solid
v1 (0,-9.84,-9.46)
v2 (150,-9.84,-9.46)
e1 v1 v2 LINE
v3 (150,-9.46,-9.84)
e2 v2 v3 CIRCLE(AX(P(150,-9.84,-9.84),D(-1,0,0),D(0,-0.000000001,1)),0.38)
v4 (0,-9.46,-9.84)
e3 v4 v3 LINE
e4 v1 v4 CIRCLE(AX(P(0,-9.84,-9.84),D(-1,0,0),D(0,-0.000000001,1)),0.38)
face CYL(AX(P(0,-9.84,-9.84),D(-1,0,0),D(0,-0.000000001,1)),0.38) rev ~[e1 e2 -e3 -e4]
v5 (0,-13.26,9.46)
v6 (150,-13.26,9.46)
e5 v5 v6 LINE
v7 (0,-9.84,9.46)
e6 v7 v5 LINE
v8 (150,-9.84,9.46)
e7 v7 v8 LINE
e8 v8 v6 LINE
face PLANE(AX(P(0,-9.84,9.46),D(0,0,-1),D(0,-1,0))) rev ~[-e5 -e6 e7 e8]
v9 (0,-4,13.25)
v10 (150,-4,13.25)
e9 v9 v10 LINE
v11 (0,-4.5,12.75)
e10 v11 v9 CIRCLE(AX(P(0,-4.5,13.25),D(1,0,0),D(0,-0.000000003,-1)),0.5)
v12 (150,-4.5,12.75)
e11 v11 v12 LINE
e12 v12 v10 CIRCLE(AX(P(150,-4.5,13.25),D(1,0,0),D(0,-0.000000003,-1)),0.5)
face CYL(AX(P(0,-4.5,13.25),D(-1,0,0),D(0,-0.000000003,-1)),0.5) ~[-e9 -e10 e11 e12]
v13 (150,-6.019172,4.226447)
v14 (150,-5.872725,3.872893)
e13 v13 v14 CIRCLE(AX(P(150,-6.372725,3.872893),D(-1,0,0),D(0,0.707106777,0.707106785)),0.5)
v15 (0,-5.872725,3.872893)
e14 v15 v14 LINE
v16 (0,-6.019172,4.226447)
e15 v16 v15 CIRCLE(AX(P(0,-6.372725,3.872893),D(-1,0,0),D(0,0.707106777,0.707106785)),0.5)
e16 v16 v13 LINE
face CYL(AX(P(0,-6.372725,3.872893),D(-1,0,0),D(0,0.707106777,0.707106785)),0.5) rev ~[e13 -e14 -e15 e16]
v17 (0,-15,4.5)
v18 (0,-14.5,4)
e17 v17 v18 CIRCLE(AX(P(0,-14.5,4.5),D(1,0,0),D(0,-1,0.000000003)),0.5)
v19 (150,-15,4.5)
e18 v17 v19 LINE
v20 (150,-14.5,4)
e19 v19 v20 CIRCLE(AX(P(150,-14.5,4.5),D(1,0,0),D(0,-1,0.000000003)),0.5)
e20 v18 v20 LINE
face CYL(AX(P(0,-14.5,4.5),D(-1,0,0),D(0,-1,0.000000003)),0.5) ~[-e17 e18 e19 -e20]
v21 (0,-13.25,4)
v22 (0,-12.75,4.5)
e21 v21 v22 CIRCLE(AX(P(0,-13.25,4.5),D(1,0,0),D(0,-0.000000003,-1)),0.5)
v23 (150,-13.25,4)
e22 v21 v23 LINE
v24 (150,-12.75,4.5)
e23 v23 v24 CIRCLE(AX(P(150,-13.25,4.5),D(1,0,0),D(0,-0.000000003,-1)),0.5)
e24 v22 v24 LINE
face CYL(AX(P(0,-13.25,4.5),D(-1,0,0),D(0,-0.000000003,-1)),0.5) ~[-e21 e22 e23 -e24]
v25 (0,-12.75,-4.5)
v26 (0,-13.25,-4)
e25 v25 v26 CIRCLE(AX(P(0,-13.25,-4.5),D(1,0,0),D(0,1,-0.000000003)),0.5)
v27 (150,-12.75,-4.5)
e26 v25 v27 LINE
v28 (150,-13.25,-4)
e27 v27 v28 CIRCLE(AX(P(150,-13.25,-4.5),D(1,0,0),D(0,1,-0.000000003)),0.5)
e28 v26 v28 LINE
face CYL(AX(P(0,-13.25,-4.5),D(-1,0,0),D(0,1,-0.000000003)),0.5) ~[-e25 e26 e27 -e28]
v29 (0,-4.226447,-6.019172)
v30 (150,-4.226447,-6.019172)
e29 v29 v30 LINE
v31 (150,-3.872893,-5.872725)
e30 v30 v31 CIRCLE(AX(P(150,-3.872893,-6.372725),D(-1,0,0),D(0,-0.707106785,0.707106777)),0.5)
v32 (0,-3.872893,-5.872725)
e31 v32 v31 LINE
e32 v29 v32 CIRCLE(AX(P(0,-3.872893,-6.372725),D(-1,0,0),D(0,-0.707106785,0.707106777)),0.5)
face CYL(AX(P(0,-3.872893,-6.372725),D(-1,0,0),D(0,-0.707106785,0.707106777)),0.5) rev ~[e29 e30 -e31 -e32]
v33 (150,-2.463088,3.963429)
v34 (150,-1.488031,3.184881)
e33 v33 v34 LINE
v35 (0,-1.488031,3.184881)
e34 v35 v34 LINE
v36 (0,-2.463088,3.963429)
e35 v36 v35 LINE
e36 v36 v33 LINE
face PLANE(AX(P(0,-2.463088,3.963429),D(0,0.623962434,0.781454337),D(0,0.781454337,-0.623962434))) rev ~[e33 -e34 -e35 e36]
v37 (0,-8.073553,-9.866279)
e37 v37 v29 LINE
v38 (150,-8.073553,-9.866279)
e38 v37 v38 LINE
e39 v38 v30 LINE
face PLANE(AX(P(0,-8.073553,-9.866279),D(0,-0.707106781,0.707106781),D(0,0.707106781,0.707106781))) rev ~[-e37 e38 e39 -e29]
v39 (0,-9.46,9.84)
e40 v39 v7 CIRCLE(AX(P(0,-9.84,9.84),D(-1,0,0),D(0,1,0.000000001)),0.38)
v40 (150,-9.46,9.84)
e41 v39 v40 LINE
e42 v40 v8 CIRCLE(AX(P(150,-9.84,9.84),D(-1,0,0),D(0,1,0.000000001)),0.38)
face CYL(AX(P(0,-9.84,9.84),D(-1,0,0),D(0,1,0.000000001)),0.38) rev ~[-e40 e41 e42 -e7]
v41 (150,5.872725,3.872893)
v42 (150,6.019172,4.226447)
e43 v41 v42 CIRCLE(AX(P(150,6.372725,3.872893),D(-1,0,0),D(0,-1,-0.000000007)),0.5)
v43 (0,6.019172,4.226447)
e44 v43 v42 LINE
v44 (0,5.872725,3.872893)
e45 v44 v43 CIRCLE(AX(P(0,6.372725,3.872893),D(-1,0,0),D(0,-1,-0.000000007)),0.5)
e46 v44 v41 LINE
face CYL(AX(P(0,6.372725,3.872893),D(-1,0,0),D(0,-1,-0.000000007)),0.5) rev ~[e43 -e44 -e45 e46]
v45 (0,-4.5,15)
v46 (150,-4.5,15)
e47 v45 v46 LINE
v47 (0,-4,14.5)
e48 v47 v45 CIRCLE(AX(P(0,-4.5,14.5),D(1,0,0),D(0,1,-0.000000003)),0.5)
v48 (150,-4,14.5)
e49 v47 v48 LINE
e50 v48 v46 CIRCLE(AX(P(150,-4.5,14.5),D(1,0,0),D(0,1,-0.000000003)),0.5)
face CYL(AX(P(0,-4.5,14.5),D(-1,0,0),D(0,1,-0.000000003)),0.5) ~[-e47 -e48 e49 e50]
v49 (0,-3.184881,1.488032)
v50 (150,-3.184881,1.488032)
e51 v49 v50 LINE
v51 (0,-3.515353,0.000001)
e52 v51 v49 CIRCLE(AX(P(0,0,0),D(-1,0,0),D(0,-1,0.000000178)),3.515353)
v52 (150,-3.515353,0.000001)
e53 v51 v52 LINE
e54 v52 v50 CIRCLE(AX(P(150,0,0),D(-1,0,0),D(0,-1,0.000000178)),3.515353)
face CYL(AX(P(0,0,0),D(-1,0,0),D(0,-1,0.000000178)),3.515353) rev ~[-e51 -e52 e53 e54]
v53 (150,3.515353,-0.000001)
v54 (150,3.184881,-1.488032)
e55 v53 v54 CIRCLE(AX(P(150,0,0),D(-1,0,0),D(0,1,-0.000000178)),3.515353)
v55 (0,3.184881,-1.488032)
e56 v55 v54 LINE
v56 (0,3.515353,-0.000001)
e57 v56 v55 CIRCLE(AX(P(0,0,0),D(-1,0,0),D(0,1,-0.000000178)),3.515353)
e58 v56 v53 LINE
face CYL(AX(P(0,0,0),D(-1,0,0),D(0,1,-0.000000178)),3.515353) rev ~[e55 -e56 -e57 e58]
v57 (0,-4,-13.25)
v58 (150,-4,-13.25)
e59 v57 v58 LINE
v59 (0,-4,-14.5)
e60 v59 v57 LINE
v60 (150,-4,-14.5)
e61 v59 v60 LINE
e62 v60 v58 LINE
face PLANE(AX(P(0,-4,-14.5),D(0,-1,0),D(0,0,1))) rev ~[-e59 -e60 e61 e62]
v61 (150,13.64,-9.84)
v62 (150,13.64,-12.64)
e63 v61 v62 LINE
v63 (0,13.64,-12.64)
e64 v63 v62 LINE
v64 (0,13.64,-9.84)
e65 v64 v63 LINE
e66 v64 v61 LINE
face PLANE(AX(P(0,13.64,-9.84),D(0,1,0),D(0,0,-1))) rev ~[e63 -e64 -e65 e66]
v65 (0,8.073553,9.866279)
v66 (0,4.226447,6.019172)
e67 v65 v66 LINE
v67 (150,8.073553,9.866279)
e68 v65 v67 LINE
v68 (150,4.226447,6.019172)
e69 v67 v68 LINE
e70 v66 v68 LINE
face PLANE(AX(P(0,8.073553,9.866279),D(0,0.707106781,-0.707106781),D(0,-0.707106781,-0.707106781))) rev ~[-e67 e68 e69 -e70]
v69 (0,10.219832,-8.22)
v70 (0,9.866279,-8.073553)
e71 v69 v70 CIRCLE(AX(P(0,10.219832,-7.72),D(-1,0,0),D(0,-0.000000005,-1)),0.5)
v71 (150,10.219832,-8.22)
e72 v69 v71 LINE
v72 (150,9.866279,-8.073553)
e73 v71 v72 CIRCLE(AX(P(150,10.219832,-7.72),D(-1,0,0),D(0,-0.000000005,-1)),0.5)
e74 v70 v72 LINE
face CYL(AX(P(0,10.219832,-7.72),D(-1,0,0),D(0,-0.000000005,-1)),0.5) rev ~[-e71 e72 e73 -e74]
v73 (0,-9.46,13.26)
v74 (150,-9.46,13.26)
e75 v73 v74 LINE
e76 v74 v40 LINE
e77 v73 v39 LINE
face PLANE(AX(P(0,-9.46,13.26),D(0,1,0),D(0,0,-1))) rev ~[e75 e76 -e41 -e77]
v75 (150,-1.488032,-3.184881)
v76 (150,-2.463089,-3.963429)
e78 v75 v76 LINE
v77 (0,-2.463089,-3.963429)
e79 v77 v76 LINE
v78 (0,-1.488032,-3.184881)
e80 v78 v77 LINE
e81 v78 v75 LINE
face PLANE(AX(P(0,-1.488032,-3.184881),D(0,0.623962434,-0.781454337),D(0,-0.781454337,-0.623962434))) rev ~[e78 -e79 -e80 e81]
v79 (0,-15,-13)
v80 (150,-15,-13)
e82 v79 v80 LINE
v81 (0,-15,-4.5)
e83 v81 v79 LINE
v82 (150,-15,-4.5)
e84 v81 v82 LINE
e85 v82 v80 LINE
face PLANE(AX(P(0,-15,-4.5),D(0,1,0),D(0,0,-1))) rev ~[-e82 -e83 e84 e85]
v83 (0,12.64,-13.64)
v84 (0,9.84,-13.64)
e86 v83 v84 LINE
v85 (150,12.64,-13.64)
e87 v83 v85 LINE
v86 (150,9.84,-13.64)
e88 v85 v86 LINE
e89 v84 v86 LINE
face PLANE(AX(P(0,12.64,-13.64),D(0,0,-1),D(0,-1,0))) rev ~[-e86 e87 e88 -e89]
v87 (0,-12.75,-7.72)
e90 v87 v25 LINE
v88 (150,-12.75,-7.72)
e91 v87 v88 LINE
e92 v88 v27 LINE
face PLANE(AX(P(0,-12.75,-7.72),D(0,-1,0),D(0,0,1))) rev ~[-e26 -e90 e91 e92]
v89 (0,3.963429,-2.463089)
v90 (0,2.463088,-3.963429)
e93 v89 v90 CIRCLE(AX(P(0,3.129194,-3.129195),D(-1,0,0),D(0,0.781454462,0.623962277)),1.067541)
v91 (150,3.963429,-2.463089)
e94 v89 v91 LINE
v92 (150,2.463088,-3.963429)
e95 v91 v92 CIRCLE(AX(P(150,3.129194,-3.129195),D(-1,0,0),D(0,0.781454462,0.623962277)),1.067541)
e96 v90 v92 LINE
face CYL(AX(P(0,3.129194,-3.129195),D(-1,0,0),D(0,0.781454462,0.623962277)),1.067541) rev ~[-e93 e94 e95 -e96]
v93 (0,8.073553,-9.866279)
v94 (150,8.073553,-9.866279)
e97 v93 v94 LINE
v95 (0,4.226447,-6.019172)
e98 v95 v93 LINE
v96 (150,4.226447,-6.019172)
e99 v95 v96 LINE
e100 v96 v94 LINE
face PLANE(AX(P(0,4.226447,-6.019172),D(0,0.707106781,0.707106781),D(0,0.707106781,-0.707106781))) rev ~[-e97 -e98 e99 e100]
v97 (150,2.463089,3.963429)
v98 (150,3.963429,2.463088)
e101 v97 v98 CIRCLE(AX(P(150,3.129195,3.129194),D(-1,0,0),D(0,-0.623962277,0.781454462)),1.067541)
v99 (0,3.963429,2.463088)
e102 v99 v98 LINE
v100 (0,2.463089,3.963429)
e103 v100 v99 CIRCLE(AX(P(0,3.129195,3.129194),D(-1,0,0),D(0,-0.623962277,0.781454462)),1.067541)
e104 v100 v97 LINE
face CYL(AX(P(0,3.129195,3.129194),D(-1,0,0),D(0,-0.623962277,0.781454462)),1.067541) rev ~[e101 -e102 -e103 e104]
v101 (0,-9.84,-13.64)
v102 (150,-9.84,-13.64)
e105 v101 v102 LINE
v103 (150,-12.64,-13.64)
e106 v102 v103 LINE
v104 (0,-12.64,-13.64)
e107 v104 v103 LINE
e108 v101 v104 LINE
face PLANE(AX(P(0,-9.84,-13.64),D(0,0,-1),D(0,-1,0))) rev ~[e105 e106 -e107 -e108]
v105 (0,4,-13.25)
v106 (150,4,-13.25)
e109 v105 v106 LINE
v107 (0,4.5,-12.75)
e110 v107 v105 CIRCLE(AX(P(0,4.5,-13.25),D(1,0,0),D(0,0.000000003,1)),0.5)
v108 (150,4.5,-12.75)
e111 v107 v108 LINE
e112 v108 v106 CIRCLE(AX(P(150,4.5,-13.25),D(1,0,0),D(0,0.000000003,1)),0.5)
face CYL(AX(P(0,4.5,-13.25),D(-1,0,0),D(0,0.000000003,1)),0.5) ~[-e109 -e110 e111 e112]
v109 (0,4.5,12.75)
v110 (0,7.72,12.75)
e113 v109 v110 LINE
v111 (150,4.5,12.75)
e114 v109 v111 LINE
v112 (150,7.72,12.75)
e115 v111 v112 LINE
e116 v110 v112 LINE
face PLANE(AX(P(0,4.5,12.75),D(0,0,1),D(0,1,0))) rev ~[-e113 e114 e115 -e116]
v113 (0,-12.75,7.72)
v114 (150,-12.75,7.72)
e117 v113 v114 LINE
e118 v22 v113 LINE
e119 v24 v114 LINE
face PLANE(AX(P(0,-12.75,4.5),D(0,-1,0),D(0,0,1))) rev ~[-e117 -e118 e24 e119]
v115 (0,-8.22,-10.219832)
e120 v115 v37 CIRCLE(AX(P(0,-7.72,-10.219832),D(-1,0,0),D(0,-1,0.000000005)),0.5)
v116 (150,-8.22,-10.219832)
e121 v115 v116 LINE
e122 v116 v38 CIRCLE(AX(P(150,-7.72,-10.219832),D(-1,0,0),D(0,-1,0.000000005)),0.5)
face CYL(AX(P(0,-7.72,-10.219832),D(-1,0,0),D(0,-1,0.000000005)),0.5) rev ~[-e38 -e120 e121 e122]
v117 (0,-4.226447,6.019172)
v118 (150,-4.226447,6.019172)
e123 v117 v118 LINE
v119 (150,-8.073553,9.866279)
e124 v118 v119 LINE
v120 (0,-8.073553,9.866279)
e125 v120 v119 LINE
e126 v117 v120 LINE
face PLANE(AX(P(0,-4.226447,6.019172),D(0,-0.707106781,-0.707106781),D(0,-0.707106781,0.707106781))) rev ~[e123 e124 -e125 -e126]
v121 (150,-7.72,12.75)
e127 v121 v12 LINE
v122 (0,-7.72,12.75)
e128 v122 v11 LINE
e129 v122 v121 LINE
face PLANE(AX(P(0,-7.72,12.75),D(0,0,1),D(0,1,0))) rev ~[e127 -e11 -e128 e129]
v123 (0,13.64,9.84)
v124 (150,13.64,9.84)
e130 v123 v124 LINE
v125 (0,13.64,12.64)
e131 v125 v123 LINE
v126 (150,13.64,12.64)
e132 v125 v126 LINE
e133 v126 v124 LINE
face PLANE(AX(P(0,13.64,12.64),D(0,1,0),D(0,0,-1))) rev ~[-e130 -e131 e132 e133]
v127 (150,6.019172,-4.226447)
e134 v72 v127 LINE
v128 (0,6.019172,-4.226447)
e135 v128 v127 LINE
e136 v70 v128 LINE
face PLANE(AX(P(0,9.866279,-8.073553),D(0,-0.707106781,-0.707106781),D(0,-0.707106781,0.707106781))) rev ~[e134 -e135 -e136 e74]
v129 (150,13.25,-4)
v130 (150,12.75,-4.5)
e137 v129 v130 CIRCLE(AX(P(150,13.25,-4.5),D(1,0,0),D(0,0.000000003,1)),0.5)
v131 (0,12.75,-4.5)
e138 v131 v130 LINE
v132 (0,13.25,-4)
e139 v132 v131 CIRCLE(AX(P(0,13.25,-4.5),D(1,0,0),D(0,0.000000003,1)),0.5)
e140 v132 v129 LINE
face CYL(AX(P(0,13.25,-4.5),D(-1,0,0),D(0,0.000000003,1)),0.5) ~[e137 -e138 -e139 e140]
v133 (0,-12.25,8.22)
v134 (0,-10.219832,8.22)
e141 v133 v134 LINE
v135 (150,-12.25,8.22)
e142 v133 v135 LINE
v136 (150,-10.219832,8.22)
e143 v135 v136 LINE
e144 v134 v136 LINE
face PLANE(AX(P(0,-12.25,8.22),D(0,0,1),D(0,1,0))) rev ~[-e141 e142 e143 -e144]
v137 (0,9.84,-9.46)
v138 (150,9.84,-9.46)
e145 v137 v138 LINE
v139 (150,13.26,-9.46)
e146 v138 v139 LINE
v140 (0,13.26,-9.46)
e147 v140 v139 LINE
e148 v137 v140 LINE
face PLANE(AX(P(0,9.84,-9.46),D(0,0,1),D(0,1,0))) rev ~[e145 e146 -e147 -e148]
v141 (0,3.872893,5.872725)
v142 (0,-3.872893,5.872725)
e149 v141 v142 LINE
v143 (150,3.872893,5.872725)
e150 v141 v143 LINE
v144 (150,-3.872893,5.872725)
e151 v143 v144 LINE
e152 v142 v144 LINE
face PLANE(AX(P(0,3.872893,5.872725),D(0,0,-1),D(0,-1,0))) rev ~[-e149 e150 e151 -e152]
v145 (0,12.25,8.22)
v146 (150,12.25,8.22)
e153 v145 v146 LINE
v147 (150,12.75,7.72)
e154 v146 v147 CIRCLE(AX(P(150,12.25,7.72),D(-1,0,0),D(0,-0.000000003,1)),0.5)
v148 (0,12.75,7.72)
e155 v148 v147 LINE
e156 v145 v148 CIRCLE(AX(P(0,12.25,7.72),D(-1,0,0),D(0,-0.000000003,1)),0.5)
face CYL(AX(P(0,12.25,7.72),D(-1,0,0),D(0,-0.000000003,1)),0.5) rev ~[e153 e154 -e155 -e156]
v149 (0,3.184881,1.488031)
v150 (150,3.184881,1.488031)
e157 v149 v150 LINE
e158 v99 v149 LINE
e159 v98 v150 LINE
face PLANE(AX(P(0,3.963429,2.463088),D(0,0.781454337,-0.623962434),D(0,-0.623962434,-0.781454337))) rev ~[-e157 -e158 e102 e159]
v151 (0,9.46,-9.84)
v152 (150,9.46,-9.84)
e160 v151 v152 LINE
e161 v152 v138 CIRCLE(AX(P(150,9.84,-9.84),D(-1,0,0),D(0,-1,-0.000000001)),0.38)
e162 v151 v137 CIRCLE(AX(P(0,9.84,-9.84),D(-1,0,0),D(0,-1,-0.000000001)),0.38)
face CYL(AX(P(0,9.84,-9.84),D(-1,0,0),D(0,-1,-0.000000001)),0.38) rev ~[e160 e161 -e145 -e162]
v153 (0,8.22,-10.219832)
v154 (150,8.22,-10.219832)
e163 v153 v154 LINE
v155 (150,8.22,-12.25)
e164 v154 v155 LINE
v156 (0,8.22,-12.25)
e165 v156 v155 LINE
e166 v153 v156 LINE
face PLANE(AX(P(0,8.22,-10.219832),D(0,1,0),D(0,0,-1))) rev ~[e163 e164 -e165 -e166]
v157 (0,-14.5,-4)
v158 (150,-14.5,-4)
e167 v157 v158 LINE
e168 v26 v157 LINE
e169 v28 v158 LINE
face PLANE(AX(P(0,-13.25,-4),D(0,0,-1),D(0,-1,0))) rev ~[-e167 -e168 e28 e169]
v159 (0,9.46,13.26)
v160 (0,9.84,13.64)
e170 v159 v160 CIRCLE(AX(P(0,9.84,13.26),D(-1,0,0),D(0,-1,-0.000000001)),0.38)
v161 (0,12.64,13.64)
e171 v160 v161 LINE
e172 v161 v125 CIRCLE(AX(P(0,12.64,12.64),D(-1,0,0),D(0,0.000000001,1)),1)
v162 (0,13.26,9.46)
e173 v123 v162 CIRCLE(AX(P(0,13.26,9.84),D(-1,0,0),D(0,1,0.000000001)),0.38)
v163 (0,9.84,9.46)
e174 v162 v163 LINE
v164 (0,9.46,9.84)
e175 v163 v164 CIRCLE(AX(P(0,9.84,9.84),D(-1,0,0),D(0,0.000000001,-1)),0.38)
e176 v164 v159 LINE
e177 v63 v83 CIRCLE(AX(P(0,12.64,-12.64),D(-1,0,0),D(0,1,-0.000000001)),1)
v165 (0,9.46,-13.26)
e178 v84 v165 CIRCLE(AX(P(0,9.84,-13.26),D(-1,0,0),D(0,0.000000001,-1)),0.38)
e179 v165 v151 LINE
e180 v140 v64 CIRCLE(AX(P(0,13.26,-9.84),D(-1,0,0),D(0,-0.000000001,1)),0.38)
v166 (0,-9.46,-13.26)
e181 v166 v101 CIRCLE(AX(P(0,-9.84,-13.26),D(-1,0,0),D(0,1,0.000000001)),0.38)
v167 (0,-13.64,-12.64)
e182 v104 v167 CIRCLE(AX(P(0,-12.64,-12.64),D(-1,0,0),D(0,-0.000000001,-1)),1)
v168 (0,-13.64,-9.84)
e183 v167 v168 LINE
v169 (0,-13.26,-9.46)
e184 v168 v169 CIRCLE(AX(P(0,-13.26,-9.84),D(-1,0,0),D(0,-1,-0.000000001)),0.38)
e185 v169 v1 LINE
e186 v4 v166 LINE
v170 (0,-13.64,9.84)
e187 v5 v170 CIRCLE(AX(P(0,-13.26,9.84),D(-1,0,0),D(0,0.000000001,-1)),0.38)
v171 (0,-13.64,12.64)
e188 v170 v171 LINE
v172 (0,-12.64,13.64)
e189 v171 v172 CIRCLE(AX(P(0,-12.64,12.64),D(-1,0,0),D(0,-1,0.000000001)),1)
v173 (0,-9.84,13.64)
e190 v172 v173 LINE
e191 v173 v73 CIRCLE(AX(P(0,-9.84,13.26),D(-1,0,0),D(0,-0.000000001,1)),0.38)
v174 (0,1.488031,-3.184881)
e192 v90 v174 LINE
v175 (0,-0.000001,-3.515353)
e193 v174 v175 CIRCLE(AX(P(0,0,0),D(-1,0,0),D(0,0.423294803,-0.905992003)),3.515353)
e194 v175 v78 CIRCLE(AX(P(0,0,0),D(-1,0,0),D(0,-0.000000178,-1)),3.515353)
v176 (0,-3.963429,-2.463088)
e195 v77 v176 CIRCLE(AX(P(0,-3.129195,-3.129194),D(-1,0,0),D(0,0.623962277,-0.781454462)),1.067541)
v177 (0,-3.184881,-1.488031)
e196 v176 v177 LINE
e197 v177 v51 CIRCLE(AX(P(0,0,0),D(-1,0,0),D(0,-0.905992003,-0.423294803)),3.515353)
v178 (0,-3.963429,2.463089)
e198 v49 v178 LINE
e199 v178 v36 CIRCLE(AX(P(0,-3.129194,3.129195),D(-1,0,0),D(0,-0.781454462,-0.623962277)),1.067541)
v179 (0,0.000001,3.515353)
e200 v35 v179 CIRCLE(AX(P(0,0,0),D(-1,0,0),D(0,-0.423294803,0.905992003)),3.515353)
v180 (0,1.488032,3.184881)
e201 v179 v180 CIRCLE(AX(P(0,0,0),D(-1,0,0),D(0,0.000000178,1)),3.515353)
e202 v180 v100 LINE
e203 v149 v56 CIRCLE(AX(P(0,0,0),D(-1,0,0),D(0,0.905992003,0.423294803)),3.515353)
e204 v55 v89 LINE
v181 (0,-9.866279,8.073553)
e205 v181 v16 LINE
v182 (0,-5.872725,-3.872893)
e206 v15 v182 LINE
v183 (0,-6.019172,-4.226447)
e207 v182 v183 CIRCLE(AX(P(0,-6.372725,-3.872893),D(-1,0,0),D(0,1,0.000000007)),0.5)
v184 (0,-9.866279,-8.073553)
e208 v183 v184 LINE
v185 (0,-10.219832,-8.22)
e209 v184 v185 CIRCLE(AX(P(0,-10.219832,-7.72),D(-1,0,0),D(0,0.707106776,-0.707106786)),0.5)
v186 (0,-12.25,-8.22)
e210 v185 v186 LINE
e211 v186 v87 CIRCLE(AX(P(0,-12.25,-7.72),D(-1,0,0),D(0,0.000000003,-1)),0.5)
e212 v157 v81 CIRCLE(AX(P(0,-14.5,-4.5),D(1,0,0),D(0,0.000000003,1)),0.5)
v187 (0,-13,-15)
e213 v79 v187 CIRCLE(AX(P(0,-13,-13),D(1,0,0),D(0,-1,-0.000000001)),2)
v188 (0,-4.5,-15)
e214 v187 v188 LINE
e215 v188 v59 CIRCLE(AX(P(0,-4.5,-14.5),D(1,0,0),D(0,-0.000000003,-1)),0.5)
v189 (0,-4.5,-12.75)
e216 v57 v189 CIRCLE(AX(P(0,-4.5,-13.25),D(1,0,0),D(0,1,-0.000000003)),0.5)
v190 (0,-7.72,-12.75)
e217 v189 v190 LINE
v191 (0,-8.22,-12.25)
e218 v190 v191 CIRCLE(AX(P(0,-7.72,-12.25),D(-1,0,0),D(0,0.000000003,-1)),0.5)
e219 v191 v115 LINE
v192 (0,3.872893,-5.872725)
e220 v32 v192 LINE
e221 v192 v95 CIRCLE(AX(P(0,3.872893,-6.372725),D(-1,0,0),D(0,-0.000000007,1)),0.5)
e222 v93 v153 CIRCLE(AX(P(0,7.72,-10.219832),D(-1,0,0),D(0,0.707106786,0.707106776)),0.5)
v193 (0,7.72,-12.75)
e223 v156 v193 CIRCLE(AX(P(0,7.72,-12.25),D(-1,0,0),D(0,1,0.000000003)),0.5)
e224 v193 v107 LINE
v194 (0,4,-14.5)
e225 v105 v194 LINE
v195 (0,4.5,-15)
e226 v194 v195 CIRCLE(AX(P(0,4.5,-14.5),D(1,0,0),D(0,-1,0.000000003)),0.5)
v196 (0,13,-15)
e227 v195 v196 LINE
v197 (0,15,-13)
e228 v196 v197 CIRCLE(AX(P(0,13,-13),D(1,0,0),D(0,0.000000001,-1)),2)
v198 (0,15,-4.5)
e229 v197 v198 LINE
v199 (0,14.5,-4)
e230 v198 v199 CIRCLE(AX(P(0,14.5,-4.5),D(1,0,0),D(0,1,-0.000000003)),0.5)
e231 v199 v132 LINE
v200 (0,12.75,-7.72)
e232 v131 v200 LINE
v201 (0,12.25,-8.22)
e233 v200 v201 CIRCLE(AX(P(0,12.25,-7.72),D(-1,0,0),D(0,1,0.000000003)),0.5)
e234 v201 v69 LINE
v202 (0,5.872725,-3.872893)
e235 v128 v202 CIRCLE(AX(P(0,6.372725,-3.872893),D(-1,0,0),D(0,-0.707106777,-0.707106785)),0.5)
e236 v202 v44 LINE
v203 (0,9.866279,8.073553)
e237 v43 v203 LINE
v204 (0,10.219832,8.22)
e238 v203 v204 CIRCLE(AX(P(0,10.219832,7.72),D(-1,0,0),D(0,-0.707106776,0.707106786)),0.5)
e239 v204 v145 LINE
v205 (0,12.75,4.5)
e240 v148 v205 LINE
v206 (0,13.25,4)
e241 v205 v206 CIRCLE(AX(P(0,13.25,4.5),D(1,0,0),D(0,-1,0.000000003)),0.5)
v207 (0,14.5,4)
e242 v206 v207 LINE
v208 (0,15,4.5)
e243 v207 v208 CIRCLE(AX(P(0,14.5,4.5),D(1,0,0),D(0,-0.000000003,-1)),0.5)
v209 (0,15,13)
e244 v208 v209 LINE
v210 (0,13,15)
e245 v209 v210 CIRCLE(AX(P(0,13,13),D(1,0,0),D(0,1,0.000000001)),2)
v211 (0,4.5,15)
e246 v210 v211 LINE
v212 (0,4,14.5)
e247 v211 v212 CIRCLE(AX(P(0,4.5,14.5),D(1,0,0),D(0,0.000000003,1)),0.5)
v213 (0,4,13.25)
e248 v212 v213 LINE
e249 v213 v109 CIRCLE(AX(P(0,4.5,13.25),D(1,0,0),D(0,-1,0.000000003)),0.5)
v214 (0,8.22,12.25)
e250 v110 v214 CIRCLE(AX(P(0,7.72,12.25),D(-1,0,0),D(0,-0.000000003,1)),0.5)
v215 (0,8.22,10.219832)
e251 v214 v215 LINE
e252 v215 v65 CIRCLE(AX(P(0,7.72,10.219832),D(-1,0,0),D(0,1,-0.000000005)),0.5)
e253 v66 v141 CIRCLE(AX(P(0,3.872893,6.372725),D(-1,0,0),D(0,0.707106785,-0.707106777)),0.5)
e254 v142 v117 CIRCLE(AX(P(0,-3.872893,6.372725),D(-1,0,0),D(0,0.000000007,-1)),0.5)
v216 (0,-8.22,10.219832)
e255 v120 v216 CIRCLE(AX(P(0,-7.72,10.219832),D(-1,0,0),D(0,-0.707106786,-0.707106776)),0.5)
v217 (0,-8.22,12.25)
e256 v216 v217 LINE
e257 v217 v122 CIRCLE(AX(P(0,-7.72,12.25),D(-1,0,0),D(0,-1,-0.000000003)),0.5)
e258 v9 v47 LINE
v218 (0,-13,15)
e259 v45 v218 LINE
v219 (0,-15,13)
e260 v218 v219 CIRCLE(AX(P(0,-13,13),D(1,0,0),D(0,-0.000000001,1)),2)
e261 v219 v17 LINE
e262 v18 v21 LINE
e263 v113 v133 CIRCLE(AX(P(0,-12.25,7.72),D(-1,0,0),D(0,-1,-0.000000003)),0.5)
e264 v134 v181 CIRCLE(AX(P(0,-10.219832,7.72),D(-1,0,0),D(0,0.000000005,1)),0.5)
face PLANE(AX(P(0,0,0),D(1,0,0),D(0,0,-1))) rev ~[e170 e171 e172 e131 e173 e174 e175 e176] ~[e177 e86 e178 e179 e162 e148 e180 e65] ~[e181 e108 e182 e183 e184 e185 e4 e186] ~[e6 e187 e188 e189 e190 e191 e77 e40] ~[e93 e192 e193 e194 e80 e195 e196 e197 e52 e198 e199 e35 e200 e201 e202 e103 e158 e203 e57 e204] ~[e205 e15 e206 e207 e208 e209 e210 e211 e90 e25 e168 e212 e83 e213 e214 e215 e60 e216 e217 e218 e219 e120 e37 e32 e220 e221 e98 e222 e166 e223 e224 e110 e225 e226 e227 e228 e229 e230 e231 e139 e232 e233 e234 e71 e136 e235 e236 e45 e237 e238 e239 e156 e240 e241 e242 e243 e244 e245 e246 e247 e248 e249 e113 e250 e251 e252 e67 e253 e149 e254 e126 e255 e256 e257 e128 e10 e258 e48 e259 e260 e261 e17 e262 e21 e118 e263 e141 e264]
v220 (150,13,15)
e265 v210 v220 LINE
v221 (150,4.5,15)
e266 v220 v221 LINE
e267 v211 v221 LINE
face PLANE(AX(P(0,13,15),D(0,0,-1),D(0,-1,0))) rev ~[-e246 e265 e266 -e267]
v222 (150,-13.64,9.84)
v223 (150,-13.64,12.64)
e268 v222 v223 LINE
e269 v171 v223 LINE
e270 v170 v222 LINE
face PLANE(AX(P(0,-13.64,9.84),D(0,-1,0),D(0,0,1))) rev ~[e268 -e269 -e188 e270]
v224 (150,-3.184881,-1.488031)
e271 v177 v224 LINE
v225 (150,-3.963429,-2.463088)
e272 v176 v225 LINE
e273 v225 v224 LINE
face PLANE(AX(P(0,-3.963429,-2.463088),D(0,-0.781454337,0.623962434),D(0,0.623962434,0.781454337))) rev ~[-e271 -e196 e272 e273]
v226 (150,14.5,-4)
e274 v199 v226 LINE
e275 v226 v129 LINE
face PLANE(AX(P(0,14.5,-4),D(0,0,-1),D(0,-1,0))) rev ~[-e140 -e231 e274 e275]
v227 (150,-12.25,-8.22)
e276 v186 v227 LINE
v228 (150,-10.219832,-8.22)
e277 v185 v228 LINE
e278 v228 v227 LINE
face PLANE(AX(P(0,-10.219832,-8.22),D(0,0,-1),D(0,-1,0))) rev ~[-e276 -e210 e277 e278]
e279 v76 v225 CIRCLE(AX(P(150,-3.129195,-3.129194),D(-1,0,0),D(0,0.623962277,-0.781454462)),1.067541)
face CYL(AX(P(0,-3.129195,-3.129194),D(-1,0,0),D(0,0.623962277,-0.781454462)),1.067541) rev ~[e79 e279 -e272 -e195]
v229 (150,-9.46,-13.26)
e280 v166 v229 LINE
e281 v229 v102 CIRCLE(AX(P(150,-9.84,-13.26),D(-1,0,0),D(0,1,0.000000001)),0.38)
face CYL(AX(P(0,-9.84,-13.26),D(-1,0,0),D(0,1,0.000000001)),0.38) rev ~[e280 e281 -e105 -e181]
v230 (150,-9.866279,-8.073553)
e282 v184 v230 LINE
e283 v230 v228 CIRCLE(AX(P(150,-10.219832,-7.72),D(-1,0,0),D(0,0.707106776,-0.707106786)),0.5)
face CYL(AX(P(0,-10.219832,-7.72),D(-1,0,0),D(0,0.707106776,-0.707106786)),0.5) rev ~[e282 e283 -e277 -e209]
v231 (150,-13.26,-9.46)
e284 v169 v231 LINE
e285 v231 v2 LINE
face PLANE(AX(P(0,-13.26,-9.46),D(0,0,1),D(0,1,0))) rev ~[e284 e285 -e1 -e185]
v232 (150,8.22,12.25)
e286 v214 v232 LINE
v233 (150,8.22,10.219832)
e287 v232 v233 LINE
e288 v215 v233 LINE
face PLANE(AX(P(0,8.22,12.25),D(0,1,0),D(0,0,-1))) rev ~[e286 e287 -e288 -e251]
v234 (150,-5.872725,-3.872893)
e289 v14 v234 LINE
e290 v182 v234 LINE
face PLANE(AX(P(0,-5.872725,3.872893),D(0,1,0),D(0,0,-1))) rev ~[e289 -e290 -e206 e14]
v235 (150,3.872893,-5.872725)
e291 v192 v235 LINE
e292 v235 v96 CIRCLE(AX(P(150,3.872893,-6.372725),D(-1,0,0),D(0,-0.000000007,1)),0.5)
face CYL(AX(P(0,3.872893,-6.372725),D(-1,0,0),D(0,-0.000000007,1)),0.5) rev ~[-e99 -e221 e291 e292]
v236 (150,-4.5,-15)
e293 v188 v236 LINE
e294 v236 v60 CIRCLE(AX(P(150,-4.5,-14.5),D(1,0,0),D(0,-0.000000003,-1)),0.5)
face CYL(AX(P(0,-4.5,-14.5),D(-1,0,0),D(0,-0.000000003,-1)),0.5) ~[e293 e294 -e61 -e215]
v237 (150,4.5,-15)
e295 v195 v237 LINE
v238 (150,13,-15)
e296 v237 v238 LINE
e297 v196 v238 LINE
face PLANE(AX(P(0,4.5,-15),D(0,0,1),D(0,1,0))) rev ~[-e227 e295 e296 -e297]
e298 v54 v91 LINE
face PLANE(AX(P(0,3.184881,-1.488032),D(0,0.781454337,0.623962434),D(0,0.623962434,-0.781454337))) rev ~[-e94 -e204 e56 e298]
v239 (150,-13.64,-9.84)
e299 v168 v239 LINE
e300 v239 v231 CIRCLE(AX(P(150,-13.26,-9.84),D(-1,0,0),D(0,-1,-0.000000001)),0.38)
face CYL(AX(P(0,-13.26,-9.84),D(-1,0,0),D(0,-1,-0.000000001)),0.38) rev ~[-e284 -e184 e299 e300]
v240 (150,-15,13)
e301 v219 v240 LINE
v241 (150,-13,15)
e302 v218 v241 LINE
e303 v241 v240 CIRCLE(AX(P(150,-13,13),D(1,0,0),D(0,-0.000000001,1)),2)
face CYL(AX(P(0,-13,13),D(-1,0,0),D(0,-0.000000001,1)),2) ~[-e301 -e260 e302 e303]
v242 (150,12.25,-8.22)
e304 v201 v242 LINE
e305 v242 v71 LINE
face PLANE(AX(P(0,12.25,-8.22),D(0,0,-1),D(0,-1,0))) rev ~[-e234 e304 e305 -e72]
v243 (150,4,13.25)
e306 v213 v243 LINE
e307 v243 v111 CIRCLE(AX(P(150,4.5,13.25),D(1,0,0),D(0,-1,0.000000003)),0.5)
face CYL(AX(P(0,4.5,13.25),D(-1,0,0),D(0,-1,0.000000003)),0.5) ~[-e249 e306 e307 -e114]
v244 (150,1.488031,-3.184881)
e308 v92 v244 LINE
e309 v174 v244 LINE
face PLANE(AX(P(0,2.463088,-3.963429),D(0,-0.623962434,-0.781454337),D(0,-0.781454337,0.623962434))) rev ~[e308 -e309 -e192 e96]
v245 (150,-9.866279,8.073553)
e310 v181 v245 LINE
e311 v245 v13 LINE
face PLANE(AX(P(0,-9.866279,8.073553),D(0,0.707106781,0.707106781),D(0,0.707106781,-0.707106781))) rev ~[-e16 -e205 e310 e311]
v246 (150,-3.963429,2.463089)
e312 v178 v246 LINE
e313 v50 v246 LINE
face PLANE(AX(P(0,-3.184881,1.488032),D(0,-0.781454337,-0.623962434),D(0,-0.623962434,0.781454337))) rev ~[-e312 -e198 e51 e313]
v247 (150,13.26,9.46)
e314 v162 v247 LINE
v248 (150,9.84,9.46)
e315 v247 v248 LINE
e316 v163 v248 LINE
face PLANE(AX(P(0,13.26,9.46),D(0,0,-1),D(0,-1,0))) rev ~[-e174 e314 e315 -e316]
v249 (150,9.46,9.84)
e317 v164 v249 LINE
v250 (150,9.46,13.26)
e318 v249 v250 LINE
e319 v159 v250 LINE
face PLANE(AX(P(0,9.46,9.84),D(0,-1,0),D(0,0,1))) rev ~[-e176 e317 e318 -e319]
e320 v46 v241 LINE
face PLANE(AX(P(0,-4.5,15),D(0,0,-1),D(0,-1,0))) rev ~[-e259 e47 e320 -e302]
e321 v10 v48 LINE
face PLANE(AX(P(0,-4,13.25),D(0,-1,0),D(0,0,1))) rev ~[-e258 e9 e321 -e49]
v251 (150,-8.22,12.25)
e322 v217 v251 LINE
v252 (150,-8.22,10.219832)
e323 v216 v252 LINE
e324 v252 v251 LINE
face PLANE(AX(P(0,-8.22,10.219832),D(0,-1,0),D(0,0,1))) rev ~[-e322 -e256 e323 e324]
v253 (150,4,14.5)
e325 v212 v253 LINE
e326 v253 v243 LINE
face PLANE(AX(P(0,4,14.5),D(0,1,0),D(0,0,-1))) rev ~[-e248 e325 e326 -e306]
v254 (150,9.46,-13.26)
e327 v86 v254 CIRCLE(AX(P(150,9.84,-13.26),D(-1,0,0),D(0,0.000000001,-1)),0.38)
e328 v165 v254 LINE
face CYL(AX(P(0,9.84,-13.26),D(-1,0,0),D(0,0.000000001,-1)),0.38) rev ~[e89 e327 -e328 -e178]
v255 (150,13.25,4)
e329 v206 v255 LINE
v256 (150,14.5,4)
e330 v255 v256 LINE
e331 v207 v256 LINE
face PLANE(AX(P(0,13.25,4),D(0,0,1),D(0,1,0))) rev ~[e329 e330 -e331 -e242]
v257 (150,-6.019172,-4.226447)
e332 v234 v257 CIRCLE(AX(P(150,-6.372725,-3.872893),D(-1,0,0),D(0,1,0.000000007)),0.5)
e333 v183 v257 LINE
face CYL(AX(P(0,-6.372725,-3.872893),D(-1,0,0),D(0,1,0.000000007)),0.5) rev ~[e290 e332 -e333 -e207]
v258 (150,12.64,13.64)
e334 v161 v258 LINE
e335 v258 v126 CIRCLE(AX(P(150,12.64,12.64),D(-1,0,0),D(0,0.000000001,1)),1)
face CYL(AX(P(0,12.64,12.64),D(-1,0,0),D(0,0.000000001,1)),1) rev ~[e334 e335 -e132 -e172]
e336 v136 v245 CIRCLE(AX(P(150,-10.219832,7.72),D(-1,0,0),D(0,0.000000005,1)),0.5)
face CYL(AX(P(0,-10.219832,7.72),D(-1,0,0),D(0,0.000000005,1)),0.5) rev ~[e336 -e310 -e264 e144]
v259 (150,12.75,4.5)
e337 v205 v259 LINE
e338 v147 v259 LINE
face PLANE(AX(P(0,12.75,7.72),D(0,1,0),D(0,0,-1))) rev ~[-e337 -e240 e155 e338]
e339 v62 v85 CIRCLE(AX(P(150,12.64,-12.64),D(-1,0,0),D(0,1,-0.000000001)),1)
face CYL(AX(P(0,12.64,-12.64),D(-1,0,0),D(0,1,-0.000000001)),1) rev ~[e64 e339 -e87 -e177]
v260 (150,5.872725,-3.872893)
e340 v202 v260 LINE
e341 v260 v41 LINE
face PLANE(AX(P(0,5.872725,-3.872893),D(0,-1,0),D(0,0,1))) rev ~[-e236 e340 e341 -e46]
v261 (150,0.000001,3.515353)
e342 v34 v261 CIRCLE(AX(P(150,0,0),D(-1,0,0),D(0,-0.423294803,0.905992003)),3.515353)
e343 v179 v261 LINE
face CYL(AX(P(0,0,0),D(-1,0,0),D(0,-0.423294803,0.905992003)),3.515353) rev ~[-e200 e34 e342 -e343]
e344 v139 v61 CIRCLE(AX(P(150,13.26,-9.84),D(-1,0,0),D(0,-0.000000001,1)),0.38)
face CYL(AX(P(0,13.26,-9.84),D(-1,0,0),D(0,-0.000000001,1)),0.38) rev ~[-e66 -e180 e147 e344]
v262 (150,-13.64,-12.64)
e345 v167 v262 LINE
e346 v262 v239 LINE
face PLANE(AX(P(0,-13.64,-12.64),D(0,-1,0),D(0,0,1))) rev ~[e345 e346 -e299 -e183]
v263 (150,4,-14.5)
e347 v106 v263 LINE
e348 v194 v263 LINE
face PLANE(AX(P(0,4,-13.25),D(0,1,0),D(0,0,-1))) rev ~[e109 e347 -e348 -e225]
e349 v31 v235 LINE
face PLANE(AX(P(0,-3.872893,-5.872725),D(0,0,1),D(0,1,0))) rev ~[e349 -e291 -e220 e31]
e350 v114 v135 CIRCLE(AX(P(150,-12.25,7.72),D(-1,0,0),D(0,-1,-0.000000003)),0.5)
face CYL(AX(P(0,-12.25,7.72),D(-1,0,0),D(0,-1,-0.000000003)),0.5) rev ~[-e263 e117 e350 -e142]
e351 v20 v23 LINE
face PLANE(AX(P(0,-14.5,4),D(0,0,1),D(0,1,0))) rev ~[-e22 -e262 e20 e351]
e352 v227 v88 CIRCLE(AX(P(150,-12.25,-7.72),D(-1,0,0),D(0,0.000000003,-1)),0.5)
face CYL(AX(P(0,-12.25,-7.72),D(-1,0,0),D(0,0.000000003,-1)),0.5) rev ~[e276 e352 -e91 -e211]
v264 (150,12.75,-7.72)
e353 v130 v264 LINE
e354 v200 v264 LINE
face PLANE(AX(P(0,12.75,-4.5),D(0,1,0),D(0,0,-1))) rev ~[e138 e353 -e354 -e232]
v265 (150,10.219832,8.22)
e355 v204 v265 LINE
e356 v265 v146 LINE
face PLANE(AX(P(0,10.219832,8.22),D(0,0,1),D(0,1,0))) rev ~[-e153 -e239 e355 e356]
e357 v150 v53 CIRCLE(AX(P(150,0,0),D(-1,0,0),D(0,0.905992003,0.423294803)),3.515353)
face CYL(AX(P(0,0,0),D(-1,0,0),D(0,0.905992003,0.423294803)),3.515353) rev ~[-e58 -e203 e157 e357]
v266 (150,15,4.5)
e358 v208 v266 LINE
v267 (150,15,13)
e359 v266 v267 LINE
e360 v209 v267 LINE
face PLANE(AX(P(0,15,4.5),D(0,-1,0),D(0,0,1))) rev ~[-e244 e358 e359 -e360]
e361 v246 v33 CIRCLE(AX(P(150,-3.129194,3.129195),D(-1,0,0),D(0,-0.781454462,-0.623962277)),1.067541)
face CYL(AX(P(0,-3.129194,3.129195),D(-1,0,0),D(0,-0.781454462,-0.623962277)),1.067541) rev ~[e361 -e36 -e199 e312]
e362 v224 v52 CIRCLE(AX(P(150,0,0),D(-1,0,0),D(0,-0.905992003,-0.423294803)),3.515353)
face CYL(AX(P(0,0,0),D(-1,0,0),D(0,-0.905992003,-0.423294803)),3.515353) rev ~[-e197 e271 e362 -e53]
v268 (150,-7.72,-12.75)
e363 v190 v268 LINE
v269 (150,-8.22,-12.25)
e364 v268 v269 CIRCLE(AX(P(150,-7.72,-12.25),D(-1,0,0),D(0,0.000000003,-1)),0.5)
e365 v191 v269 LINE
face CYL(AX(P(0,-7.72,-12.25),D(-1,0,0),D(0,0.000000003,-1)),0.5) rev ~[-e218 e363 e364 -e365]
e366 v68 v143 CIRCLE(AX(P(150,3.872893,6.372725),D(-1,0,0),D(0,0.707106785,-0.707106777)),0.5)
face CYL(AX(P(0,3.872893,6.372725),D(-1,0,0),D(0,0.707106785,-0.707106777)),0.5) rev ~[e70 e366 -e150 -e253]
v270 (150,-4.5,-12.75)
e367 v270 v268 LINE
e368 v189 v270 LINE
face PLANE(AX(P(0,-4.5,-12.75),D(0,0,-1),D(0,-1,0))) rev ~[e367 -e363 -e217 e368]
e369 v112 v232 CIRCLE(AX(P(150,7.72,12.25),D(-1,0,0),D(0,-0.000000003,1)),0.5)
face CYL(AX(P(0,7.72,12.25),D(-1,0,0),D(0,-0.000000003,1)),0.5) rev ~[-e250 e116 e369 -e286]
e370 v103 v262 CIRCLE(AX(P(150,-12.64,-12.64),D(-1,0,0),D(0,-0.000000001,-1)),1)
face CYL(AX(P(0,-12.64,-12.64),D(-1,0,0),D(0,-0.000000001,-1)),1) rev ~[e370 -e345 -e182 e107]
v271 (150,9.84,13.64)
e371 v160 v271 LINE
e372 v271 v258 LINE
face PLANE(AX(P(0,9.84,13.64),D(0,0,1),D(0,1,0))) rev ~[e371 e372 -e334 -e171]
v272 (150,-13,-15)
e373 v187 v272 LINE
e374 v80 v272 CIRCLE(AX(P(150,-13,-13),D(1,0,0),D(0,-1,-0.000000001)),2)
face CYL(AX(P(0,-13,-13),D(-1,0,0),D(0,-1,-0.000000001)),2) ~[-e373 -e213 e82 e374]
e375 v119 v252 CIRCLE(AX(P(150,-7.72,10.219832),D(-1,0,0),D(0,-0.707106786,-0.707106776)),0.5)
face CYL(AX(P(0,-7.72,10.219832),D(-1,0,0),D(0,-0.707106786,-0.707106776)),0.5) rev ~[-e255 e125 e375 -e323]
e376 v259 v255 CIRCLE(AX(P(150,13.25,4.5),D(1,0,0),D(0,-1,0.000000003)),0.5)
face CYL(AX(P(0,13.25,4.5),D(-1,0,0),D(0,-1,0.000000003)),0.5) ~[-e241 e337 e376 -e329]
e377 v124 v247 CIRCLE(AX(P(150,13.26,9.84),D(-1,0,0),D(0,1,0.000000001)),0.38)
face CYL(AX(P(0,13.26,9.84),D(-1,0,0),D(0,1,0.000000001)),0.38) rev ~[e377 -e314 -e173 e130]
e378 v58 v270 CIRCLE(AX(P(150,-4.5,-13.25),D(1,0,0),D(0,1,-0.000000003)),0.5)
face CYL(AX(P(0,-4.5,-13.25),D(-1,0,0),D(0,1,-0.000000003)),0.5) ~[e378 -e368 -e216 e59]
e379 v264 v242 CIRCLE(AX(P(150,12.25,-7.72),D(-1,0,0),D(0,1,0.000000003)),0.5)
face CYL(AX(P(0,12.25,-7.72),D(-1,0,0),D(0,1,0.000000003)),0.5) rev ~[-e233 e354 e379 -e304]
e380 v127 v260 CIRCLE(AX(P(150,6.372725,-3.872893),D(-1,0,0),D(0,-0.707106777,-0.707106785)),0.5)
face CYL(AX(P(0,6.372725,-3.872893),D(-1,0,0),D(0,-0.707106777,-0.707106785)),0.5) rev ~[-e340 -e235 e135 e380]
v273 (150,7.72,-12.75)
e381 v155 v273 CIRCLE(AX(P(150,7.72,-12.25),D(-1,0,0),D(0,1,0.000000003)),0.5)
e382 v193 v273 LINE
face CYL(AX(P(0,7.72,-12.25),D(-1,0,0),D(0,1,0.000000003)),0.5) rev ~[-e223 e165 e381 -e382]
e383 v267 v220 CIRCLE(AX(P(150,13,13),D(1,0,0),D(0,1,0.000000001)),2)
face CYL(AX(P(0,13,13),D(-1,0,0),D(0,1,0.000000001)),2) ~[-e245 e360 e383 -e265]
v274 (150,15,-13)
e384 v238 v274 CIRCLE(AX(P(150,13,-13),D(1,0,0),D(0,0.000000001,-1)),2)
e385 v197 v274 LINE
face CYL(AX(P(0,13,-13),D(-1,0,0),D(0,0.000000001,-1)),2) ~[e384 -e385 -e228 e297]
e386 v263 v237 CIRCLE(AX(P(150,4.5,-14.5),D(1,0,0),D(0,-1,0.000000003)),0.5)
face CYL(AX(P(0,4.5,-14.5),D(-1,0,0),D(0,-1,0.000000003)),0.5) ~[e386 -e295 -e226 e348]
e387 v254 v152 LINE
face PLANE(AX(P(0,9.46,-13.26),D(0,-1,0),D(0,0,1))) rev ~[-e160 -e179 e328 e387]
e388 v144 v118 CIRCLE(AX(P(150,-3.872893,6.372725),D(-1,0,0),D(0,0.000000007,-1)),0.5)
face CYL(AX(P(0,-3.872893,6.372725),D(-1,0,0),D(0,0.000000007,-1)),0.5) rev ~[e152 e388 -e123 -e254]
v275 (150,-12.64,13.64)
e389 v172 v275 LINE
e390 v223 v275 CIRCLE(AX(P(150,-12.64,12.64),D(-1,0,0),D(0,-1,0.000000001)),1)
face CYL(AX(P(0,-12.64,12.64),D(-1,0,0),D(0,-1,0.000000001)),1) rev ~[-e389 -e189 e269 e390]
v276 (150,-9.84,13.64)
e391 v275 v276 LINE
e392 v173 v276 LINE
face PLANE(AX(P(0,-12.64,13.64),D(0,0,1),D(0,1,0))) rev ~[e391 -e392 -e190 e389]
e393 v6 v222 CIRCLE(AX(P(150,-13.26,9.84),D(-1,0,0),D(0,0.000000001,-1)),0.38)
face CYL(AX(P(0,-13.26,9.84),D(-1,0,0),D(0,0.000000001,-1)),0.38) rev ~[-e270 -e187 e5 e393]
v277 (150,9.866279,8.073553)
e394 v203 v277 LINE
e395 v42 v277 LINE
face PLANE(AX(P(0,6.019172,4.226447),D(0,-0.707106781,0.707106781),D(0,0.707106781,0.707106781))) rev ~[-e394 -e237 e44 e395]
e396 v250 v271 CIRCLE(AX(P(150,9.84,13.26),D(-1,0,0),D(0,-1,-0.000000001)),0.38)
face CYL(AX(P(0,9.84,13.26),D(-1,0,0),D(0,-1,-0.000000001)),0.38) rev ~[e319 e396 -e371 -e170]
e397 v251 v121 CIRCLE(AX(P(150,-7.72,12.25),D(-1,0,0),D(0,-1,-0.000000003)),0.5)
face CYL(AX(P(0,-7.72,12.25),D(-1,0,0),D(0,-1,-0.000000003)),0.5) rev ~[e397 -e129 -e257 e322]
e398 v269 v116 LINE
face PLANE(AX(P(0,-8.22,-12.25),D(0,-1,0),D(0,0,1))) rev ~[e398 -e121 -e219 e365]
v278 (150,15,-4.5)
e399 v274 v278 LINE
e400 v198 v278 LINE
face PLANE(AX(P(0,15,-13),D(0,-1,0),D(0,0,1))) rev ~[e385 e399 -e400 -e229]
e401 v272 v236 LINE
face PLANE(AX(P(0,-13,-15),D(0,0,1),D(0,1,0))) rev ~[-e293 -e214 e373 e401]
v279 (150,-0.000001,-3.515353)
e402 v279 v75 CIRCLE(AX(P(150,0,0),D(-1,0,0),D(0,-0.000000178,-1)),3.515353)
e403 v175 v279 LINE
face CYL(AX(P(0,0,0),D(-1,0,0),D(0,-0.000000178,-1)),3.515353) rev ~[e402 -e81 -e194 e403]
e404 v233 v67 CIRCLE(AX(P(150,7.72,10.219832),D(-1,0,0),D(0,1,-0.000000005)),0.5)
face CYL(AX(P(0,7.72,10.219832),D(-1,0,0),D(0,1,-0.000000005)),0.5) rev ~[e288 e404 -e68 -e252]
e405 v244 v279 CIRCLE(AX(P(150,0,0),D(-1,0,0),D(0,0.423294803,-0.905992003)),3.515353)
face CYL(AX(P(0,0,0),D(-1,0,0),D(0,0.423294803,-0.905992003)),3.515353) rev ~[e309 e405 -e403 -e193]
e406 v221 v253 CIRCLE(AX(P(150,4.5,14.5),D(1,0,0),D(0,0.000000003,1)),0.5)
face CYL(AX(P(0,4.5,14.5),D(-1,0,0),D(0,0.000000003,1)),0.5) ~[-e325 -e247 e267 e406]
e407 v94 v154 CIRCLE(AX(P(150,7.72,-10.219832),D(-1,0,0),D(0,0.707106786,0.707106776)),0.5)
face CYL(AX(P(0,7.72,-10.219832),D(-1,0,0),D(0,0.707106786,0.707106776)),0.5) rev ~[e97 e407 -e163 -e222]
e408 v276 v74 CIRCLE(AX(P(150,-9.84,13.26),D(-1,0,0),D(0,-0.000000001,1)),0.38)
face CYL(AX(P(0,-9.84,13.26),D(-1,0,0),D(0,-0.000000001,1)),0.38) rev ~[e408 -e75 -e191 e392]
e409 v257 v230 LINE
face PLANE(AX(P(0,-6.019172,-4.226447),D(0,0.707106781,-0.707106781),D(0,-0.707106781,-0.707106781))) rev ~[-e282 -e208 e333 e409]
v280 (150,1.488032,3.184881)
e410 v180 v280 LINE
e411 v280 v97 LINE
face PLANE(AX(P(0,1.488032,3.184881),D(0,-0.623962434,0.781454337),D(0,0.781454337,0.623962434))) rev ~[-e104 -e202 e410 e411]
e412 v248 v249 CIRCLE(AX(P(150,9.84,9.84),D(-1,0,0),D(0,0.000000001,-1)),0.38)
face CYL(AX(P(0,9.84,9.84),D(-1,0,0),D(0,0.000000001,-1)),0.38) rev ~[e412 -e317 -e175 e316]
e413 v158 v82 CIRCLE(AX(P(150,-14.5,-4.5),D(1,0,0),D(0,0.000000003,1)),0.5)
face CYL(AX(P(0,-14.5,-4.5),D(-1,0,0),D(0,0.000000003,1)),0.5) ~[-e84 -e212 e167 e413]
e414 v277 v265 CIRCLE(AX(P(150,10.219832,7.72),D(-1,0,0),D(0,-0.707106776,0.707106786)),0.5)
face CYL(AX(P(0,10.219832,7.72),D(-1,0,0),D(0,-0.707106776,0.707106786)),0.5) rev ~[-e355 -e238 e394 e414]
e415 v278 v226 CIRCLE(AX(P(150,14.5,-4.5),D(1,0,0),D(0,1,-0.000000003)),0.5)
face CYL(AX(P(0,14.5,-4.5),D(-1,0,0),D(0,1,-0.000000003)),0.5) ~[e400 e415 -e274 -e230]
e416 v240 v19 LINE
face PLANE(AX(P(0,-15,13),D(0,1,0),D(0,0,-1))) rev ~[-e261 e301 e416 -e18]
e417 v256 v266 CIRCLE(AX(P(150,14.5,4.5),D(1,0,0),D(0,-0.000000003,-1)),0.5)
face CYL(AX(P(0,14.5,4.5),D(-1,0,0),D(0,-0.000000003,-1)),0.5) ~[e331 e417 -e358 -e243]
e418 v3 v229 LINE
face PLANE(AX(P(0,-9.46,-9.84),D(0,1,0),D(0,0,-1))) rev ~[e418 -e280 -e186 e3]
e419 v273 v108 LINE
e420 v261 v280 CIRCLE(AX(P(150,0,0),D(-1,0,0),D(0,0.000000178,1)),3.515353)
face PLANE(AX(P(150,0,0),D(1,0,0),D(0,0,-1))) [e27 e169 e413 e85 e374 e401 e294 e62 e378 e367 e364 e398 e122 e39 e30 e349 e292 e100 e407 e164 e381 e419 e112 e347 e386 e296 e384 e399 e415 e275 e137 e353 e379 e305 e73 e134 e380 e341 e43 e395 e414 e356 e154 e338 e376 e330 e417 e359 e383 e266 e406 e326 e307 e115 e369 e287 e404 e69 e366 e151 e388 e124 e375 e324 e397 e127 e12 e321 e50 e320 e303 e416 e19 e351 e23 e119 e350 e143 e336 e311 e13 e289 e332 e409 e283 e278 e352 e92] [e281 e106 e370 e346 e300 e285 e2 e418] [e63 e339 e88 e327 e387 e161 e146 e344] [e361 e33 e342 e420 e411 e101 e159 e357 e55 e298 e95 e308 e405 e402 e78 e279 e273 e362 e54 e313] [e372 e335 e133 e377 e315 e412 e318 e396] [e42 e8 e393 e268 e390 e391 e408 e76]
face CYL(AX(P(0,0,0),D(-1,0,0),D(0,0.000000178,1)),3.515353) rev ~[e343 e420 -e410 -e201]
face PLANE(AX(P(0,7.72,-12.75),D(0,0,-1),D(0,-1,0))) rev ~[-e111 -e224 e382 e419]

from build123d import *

# Parameters (mm, degrees)
PERFIL_COM_ALUMINIO_PERFIL_COMER_30_X_DEPTH = 150


with BuildPart() as part:
    # Esboço1 → Perfil com. aluminio PERFIL COMER. 30 X 30(1) (new body)
    with BuildSketch(Plane(origin=(0, 0, 0), x_dir=(0, 0, -1), z_dir=(1, 0, 0))):
        with BuildLine():
            Line((0, 5.872725395), (-3.872893219, 5.872725395))
            ThreePointArc((-3.872893219, 5.872725395), (-4.064234935, 5.910785628), (-4.226446609, 6.019172004))
            Line((-4.226446609, 6.019172004), (-8.073553391, 9.866278785))
            ThreePointArc((-8.073553391, 9.866278785), (-8.181939766, 10.02849046), (-8.22, 10.219832176))
            Line((-8.22, 10.219832176), (-8.22, 12.25))
            ThreePointArc((-8.22, 12.25), (-8.073553391, 12.603553391), (-7.72, 12.75))
            Line((-7.72, 12.75), (-4.5, 12.75))
            ThreePointArc((-4.5, 12.75), (-4.146446609, 12.896446609), (-4, 13.25))
            Line((-4, 13.25), (-4, 14.5))
            ThreePointArc((-4, 14.5), (-4.146446609, 14.853553391), (-4.5, 15))
            Line((-4.5, 15), (-13, 15))
            ThreePointArc((-13, 15), (-14.414213562, 14.414213562), (-15, 13))
            Line((-15, 13), (-15, 4.5))
            ThreePointArc((-15, 4.5), (-14.853553391, 4.146446609), (-14.5, 4))
            Line((-14.5, 4), (-13.25, 4))
            ThreePointArc((-13.25, 4), (-12.896446609, 4.146446609), (-12.75, 4.5))
            Line((-12.75, 4.5), (-12.75, 7.72))
            ThreePointArc((-12.75, 7.72), (-12.603553391, 8.073553391), (-12.25, 8.22))
            Line((-12.25, 8.22), (-10.219832176, 8.22))
            ThreePointArc((-10.219832176, 8.22), (-10.02849046, 8.181939766), (-9.866278785, 8.073553391))
            Line((-9.866278785, 8.073553391), (-6.019172004, 4.226446609))
            ThreePointArc((-6.019172004, 4.226446609), (-5.910785628, 4.064234935), (-5.872725395, 3.872893219))
            Line((-5.872725395, 3.872893219), (-5.872725395, 0))
            Line((-5.872725395, 0), (-5.872725395, -3.872893219))
            ThreePointArc((-5.872725395, -3.872893219), (-5.910785628, -4.064234935), (-6.019172004, -4.226446609))
            Line((-6.019172004, -4.226446609), (-9.866278785, -8.073553391))
            ThreePointArc((-9.866278785, -8.073553391), (-10.02849046, -8.181939766), (-10.219832176, -8.22))
            Line((-10.219832176, -8.22), (-12.25, -8.22))
            ThreePointArc((-12.25, -8.22), (-12.603553391, -8.073553391), (-12.75, -7.72))
            Line((-12.75, -7.72), (-12.75, -4.5))
            ThreePointArc((-12.75, -4.5), (-12.896446609, -4.146446609), (-13.25, -4))
            Line((-13.25, -4), (-14.5, -4))
            ThreePointArc((-14.5, -4), (-14.853553391, -4.146446609), (-15, -4.5))
            Line((-15, -4.5), (-15, -13))
            ThreePointArc((-15, -13), (-14.414213562, -14.414213562), (-13, -15))
            Line((-13, -15), (-4.5, -15))
            ThreePointArc((-4.5, -15), (-4.146446609, -14.853553391), (-4, -14.5))
            Line((-4, -14.5), (-4, -13.25))
            ThreePointArc((-4, -13.25), (-4.146446609, -12.896446609), (-4.5, -12.75))
            Line((-4.5, -12.75), (-7.72, -12.75))
            ThreePointArc((-7.72, -12.75), (-8.073553391, -12.603553391), (-8.22, -12.25))
            Line((-8.22, -12.25), (-8.22, -10.219832176))
            ThreePointArc((-8.22, -10.219832176), (-8.181939766, -10.02849046), (-8.073553391, -9.866278785))
            Line((-8.073553391, -9.866278785), (-4.226446609, -6.019172004))
            ThreePointArc((-4.226446609, -6.019172004), (-4.064234935, -5.910785628), (-3.872893219, -5.872725395))
            Line((-3.872893219, -5.872725395), (0, -5.872725395))
            Line((0, -5.872725395), (3.872893219, -5.872725395))
            ThreePointArc((3.872893219, -5.872725395), (4.064234935, -5.910785628), (4.226446609, -6.019172004))
            Line((4.226446609, -6.019172004), (8.073553391, -9.866278785))
            ThreePointArc((8.073553391, -9.866278785), (8.181939766, -10.02849046), (8.22, -10.219832176))
            Line((8.22, -10.219832176), (8.22, -12.25))
            ThreePointArc((8.22, -12.25), (8.073553391, -12.603553391), (7.72, -12.75))
            Line((7.72, -12.75), (4.5, -12.75))
            ThreePointArc((4.5, -12.75), (4.146446609, -12.896446609), (4, -13.25))
            Line((4, -13.25), (4, -14.5))
            ThreePointArc((4, -14.5), (4.146446609, -14.853553391), (4.5, -15))
            Line((4.5, -15), (13, -15))
            ThreePointArc((13, -15), (14.414213562, -14.414213562), (15, -13))
            Line((15, -13), (15, -4.5))
            ThreePointArc((15, -4.5), (14.853553391, -4.146446609), (14.5, -4))
            Line((14.5, -4), (13.25, -4))
            ThreePointArc((13.25, -4), (12.896446609, -4.146446609), (12.75, -4.5))
            Line((12.75, -4.5), (12.75, -7.72))
            ThreePointArc((12.75, -7.72), (12.603553391, -8.073553391), (12.25, -8.22))
            Line((12.25, -8.22), (10.219832176, -8.22))
            ThreePointArc((10.219832176, -8.22), (10.02849046, -8.181939766), (9.866278785, -8.073553391))
            Line((9.866278785, -8.073553391), (6.019172004, -4.226446609))
            ThreePointArc((6.019172004, -4.226446609), (5.910785628, -4.064234935), (5.872725395, -3.872893219))
            Line((5.872725395, -3.872893219), (5.872725395, 0))
            Line((5.872725395, 0), (5.872725395, 3.872893219))
            ThreePointArc((5.872725395, 3.872893219), (5.910785628, 4.064234935), (6.019172004, 4.226446609))
            Line((6.019172004, 4.226446609), (9.866278785, 8.073553391))
            ThreePointArc((9.866278785, 8.073553391), (10.02849046, 8.181939766), (10.219832176, 8.22))
            Line((10.219832176, 8.22), (12.25, 8.22))
            ThreePointArc((12.25, 8.22), (12.603553391, 8.073553391), (12.75, 7.72))
            Line((12.75, 7.72), (12.75, 4.5))
            ThreePointArc((12.75, 4.5), (12.896446609, 4.146446609), (13.25, 4))
            Line((13.25, 4), (14.5, 4))
            ThreePointArc((14.5, 4), (14.853553391, 4.146446609), (15, 4.5))
            Line((15, 4.5), (15, 13))
            ThreePointArc((15, 13), (14.414213562, 14.414213562), (13, 15))
            Line((13, 15), (4.5, 15))
            ThreePointArc((4.5, 15), (4.146446609, 14.853553391), (4, 14.5))
            Line((4, 14.5), (4, 13.25))
            ThreePointArc((4, 13.25), (4.146446609, 12.896446609), (4.5, 12.75))
            Line((4.5, 12.75), (7.72, 12.75))
            ThreePointArc((7.72, 12.75), (8.073553391, 12.603553391), (8.22, 12.25))
            Line((8.22, 12.25), (8.22, 10.219832176))
            ThreePointArc((8.22, 10.219832176), (8.181939766, 10.02849046), (8.073553391, 9.866278785))
            Line((8.073553391, 9.866278785), (4.226446609, 6.019172004))
            ThreePointArc((4.226446609, 6.019172004), (4.064234935, 5.910785628), (3.872893219, 5.872725395))
            Line((3.872893219, 5.872725395), (0, 5.872725395))
        make_face()
        with BuildLine():
            Line((-3.184880901, 1.488031663), (-3.963428513, 2.463089414))
            ThreePointArc((-3.963428513, 2.463089414), (-3.884059168, 3.884060272), (-2.463088278, 3.963429044))
            Line((-2.463088278, 3.963429044), (-1.488030527, 3.184881432))
            ThreePointArc((-1.488030527, 3.184881432), (-0.762142415, 3.431740597), (6.27e-07, 3.515352697))
            ThreePointArc((6.27e-07, 3.515352697), (0.762143639, 3.431740325), (1.488031663, 3.184880901))
            Line((1.488031663, 3.184880901), (2.463089414, 3.963428513))
            ThreePointArc((2.463089414, 3.963428513), (3.884060272, 3.884059168), (3.963429044, 2.463088278))
            Line((3.963429044, 2.463088278), (3.184881432, 1.488030527))
            ThreePointArc((3.184881432, 1.488030527), (3.431740597, 0.762142415), (3.515352697, -6.27e-07))
            ThreePointArc((3.515352697, -6.27e-07), (3.431740325, -0.762143639), (3.184880901, -1.488031663))
            Line((3.184880901, -1.488031663), (3.963428513, -2.463089414))
            ThreePointArc((3.963428513, -2.463089414), (3.884059168, -3.884060272), (2.463088278, -3.963429044))
            Line((2.463088278, -3.963429044), (1.488030527, -3.184881432))
            ThreePointArc((1.488030527, -3.184881432), (0.762142415, -3.431740597), (-6.27e-07, -3.515352697))
            ThreePointArc((-6.27e-07, -3.515352697), (-0.762143639, -3.431740325), (-1.488031663, -3.184880901))
            Line((-1.488031663, -3.184880901), (-2.463089414, -3.963428513))
            ThreePointArc((-2.463089414, -3.963428513), (-3.884060272, -3.884059168), (-3.963429044, -2.463088278))
            Line((-3.963429044, -2.463088278), (-3.184881432, -1.488030527))
            ThreePointArc((-3.184881432, -1.488030527), (-3.431740597, -0.762142415), (-3.515352697, 6.27e-07))
            ThreePointArc((-3.515352697, 6.27e-07), (-3.431740325, 0.762143639), (-3.184880901, 1.488031663))
        make_face(mode=Mode.SUBTRACT)
        with BuildLine():
            Line((-9.46, 13.26), (-9.46, 9.84))
            ThreePointArc((-9.46, 9.84), (-9.571299423, 9.571299423), (-9.84, 9.46))
            Line((-9.84, 9.46), (-13.26, 9.46))
            ThreePointArc((-13.26, 9.46), (-13.528700577, 9.571299423), (-13.64, 9.84))
            Line((-13.64, 9.84), (-13.64, 12.64))
            ThreePointArc((-13.64, 12.64), (-13.347106781, 13.347106781), (-12.64, 13.64))
            Line((-12.64, 13.64), (-9.84, 13.64))
            ThreePointArc((-9.84, 13.64), (-9.571299423, 13.528700577), (-9.46, 13.26))
        make_face(mode=Mode.SUBTRACT)
        with BuildLine():
            Line((13.64, 12.64), (13.64, 9.84))
            ThreePointArc((13.64, 9.84), (13.528700577, 9.571299423), (13.26, 9.46))
            Line((13.26, 9.46), (9.84, 9.46))
            ThreePointArc((9.84, 9.46), (9.571299423, 9.571299423), (9.46, 9.84))
            Line((9.46, 9.84), (9.46, 13.26))
            ThreePointArc((9.46, 13.26), (9.571299423, 13.528700577), (9.84, 13.64))
            Line((9.84, 13.64), (12.64, 13.64))
            ThreePointArc((12.64, 13.64), (13.347106781, 13.347106781), (13.64, 12.64))
        make_face(mode=Mode.SUBTRACT)
        with BuildLine():
            Line((12.64, -13.64), (9.84, -13.64))
            ThreePointArc((9.84, -13.64), (9.571299423, -13.528700577), (9.46, -13.26))
            Line((9.46, -13.26), (9.46, -9.84))
            ThreePointArc((9.46, -9.84), (9.571299423, -9.571299423), (9.84, -9.46))
            Line((9.84, -9.46), (13.26, -9.46))
            ThreePointArc((13.26, -9.46), (13.528700577, -9.571299423), (13.64, -9.84))
            Line((13.64, -9.84), (13.64, -12.64))
            ThreePointArc((13.64, -12.64), (13.347106781, -13.347106781), (12.64, -13.64))
        make_face(mode=Mode.SUBTRACT)
        with BuildLine():
            Line((-13.64, -12.64), (-13.64, -9.84))
            ThreePointArc((-13.64, -9.84), (-13.528700577, -9.571299423), (-13.26, -9.46))
            Line((-13.26, -9.46), (-9.84, -9.46))
            ThreePointArc((-9.84, -9.46), (-9.571299423, -9.571299423), (-9.46, -9.84))
            Line((-9.46, -9.84), (-9.46, -13.26))
            ThreePointArc((-9.46, -13.26), (-9.571299423, -13.528700577), (-9.84, -13.64))
            Line((-9.84, -13.64), (-12.64, -13.64))
            ThreePointArc((-12.64, -13.64), (-13.347106781, -13.347106781), (-13.64, -12.64))
        make_face(mode=Mode.SUBTRACT)
    extrude(amount=PERFIL_COM_ALUMINIO_PERFIL_COMER_30_X_DEPTH)


solid = part.part
